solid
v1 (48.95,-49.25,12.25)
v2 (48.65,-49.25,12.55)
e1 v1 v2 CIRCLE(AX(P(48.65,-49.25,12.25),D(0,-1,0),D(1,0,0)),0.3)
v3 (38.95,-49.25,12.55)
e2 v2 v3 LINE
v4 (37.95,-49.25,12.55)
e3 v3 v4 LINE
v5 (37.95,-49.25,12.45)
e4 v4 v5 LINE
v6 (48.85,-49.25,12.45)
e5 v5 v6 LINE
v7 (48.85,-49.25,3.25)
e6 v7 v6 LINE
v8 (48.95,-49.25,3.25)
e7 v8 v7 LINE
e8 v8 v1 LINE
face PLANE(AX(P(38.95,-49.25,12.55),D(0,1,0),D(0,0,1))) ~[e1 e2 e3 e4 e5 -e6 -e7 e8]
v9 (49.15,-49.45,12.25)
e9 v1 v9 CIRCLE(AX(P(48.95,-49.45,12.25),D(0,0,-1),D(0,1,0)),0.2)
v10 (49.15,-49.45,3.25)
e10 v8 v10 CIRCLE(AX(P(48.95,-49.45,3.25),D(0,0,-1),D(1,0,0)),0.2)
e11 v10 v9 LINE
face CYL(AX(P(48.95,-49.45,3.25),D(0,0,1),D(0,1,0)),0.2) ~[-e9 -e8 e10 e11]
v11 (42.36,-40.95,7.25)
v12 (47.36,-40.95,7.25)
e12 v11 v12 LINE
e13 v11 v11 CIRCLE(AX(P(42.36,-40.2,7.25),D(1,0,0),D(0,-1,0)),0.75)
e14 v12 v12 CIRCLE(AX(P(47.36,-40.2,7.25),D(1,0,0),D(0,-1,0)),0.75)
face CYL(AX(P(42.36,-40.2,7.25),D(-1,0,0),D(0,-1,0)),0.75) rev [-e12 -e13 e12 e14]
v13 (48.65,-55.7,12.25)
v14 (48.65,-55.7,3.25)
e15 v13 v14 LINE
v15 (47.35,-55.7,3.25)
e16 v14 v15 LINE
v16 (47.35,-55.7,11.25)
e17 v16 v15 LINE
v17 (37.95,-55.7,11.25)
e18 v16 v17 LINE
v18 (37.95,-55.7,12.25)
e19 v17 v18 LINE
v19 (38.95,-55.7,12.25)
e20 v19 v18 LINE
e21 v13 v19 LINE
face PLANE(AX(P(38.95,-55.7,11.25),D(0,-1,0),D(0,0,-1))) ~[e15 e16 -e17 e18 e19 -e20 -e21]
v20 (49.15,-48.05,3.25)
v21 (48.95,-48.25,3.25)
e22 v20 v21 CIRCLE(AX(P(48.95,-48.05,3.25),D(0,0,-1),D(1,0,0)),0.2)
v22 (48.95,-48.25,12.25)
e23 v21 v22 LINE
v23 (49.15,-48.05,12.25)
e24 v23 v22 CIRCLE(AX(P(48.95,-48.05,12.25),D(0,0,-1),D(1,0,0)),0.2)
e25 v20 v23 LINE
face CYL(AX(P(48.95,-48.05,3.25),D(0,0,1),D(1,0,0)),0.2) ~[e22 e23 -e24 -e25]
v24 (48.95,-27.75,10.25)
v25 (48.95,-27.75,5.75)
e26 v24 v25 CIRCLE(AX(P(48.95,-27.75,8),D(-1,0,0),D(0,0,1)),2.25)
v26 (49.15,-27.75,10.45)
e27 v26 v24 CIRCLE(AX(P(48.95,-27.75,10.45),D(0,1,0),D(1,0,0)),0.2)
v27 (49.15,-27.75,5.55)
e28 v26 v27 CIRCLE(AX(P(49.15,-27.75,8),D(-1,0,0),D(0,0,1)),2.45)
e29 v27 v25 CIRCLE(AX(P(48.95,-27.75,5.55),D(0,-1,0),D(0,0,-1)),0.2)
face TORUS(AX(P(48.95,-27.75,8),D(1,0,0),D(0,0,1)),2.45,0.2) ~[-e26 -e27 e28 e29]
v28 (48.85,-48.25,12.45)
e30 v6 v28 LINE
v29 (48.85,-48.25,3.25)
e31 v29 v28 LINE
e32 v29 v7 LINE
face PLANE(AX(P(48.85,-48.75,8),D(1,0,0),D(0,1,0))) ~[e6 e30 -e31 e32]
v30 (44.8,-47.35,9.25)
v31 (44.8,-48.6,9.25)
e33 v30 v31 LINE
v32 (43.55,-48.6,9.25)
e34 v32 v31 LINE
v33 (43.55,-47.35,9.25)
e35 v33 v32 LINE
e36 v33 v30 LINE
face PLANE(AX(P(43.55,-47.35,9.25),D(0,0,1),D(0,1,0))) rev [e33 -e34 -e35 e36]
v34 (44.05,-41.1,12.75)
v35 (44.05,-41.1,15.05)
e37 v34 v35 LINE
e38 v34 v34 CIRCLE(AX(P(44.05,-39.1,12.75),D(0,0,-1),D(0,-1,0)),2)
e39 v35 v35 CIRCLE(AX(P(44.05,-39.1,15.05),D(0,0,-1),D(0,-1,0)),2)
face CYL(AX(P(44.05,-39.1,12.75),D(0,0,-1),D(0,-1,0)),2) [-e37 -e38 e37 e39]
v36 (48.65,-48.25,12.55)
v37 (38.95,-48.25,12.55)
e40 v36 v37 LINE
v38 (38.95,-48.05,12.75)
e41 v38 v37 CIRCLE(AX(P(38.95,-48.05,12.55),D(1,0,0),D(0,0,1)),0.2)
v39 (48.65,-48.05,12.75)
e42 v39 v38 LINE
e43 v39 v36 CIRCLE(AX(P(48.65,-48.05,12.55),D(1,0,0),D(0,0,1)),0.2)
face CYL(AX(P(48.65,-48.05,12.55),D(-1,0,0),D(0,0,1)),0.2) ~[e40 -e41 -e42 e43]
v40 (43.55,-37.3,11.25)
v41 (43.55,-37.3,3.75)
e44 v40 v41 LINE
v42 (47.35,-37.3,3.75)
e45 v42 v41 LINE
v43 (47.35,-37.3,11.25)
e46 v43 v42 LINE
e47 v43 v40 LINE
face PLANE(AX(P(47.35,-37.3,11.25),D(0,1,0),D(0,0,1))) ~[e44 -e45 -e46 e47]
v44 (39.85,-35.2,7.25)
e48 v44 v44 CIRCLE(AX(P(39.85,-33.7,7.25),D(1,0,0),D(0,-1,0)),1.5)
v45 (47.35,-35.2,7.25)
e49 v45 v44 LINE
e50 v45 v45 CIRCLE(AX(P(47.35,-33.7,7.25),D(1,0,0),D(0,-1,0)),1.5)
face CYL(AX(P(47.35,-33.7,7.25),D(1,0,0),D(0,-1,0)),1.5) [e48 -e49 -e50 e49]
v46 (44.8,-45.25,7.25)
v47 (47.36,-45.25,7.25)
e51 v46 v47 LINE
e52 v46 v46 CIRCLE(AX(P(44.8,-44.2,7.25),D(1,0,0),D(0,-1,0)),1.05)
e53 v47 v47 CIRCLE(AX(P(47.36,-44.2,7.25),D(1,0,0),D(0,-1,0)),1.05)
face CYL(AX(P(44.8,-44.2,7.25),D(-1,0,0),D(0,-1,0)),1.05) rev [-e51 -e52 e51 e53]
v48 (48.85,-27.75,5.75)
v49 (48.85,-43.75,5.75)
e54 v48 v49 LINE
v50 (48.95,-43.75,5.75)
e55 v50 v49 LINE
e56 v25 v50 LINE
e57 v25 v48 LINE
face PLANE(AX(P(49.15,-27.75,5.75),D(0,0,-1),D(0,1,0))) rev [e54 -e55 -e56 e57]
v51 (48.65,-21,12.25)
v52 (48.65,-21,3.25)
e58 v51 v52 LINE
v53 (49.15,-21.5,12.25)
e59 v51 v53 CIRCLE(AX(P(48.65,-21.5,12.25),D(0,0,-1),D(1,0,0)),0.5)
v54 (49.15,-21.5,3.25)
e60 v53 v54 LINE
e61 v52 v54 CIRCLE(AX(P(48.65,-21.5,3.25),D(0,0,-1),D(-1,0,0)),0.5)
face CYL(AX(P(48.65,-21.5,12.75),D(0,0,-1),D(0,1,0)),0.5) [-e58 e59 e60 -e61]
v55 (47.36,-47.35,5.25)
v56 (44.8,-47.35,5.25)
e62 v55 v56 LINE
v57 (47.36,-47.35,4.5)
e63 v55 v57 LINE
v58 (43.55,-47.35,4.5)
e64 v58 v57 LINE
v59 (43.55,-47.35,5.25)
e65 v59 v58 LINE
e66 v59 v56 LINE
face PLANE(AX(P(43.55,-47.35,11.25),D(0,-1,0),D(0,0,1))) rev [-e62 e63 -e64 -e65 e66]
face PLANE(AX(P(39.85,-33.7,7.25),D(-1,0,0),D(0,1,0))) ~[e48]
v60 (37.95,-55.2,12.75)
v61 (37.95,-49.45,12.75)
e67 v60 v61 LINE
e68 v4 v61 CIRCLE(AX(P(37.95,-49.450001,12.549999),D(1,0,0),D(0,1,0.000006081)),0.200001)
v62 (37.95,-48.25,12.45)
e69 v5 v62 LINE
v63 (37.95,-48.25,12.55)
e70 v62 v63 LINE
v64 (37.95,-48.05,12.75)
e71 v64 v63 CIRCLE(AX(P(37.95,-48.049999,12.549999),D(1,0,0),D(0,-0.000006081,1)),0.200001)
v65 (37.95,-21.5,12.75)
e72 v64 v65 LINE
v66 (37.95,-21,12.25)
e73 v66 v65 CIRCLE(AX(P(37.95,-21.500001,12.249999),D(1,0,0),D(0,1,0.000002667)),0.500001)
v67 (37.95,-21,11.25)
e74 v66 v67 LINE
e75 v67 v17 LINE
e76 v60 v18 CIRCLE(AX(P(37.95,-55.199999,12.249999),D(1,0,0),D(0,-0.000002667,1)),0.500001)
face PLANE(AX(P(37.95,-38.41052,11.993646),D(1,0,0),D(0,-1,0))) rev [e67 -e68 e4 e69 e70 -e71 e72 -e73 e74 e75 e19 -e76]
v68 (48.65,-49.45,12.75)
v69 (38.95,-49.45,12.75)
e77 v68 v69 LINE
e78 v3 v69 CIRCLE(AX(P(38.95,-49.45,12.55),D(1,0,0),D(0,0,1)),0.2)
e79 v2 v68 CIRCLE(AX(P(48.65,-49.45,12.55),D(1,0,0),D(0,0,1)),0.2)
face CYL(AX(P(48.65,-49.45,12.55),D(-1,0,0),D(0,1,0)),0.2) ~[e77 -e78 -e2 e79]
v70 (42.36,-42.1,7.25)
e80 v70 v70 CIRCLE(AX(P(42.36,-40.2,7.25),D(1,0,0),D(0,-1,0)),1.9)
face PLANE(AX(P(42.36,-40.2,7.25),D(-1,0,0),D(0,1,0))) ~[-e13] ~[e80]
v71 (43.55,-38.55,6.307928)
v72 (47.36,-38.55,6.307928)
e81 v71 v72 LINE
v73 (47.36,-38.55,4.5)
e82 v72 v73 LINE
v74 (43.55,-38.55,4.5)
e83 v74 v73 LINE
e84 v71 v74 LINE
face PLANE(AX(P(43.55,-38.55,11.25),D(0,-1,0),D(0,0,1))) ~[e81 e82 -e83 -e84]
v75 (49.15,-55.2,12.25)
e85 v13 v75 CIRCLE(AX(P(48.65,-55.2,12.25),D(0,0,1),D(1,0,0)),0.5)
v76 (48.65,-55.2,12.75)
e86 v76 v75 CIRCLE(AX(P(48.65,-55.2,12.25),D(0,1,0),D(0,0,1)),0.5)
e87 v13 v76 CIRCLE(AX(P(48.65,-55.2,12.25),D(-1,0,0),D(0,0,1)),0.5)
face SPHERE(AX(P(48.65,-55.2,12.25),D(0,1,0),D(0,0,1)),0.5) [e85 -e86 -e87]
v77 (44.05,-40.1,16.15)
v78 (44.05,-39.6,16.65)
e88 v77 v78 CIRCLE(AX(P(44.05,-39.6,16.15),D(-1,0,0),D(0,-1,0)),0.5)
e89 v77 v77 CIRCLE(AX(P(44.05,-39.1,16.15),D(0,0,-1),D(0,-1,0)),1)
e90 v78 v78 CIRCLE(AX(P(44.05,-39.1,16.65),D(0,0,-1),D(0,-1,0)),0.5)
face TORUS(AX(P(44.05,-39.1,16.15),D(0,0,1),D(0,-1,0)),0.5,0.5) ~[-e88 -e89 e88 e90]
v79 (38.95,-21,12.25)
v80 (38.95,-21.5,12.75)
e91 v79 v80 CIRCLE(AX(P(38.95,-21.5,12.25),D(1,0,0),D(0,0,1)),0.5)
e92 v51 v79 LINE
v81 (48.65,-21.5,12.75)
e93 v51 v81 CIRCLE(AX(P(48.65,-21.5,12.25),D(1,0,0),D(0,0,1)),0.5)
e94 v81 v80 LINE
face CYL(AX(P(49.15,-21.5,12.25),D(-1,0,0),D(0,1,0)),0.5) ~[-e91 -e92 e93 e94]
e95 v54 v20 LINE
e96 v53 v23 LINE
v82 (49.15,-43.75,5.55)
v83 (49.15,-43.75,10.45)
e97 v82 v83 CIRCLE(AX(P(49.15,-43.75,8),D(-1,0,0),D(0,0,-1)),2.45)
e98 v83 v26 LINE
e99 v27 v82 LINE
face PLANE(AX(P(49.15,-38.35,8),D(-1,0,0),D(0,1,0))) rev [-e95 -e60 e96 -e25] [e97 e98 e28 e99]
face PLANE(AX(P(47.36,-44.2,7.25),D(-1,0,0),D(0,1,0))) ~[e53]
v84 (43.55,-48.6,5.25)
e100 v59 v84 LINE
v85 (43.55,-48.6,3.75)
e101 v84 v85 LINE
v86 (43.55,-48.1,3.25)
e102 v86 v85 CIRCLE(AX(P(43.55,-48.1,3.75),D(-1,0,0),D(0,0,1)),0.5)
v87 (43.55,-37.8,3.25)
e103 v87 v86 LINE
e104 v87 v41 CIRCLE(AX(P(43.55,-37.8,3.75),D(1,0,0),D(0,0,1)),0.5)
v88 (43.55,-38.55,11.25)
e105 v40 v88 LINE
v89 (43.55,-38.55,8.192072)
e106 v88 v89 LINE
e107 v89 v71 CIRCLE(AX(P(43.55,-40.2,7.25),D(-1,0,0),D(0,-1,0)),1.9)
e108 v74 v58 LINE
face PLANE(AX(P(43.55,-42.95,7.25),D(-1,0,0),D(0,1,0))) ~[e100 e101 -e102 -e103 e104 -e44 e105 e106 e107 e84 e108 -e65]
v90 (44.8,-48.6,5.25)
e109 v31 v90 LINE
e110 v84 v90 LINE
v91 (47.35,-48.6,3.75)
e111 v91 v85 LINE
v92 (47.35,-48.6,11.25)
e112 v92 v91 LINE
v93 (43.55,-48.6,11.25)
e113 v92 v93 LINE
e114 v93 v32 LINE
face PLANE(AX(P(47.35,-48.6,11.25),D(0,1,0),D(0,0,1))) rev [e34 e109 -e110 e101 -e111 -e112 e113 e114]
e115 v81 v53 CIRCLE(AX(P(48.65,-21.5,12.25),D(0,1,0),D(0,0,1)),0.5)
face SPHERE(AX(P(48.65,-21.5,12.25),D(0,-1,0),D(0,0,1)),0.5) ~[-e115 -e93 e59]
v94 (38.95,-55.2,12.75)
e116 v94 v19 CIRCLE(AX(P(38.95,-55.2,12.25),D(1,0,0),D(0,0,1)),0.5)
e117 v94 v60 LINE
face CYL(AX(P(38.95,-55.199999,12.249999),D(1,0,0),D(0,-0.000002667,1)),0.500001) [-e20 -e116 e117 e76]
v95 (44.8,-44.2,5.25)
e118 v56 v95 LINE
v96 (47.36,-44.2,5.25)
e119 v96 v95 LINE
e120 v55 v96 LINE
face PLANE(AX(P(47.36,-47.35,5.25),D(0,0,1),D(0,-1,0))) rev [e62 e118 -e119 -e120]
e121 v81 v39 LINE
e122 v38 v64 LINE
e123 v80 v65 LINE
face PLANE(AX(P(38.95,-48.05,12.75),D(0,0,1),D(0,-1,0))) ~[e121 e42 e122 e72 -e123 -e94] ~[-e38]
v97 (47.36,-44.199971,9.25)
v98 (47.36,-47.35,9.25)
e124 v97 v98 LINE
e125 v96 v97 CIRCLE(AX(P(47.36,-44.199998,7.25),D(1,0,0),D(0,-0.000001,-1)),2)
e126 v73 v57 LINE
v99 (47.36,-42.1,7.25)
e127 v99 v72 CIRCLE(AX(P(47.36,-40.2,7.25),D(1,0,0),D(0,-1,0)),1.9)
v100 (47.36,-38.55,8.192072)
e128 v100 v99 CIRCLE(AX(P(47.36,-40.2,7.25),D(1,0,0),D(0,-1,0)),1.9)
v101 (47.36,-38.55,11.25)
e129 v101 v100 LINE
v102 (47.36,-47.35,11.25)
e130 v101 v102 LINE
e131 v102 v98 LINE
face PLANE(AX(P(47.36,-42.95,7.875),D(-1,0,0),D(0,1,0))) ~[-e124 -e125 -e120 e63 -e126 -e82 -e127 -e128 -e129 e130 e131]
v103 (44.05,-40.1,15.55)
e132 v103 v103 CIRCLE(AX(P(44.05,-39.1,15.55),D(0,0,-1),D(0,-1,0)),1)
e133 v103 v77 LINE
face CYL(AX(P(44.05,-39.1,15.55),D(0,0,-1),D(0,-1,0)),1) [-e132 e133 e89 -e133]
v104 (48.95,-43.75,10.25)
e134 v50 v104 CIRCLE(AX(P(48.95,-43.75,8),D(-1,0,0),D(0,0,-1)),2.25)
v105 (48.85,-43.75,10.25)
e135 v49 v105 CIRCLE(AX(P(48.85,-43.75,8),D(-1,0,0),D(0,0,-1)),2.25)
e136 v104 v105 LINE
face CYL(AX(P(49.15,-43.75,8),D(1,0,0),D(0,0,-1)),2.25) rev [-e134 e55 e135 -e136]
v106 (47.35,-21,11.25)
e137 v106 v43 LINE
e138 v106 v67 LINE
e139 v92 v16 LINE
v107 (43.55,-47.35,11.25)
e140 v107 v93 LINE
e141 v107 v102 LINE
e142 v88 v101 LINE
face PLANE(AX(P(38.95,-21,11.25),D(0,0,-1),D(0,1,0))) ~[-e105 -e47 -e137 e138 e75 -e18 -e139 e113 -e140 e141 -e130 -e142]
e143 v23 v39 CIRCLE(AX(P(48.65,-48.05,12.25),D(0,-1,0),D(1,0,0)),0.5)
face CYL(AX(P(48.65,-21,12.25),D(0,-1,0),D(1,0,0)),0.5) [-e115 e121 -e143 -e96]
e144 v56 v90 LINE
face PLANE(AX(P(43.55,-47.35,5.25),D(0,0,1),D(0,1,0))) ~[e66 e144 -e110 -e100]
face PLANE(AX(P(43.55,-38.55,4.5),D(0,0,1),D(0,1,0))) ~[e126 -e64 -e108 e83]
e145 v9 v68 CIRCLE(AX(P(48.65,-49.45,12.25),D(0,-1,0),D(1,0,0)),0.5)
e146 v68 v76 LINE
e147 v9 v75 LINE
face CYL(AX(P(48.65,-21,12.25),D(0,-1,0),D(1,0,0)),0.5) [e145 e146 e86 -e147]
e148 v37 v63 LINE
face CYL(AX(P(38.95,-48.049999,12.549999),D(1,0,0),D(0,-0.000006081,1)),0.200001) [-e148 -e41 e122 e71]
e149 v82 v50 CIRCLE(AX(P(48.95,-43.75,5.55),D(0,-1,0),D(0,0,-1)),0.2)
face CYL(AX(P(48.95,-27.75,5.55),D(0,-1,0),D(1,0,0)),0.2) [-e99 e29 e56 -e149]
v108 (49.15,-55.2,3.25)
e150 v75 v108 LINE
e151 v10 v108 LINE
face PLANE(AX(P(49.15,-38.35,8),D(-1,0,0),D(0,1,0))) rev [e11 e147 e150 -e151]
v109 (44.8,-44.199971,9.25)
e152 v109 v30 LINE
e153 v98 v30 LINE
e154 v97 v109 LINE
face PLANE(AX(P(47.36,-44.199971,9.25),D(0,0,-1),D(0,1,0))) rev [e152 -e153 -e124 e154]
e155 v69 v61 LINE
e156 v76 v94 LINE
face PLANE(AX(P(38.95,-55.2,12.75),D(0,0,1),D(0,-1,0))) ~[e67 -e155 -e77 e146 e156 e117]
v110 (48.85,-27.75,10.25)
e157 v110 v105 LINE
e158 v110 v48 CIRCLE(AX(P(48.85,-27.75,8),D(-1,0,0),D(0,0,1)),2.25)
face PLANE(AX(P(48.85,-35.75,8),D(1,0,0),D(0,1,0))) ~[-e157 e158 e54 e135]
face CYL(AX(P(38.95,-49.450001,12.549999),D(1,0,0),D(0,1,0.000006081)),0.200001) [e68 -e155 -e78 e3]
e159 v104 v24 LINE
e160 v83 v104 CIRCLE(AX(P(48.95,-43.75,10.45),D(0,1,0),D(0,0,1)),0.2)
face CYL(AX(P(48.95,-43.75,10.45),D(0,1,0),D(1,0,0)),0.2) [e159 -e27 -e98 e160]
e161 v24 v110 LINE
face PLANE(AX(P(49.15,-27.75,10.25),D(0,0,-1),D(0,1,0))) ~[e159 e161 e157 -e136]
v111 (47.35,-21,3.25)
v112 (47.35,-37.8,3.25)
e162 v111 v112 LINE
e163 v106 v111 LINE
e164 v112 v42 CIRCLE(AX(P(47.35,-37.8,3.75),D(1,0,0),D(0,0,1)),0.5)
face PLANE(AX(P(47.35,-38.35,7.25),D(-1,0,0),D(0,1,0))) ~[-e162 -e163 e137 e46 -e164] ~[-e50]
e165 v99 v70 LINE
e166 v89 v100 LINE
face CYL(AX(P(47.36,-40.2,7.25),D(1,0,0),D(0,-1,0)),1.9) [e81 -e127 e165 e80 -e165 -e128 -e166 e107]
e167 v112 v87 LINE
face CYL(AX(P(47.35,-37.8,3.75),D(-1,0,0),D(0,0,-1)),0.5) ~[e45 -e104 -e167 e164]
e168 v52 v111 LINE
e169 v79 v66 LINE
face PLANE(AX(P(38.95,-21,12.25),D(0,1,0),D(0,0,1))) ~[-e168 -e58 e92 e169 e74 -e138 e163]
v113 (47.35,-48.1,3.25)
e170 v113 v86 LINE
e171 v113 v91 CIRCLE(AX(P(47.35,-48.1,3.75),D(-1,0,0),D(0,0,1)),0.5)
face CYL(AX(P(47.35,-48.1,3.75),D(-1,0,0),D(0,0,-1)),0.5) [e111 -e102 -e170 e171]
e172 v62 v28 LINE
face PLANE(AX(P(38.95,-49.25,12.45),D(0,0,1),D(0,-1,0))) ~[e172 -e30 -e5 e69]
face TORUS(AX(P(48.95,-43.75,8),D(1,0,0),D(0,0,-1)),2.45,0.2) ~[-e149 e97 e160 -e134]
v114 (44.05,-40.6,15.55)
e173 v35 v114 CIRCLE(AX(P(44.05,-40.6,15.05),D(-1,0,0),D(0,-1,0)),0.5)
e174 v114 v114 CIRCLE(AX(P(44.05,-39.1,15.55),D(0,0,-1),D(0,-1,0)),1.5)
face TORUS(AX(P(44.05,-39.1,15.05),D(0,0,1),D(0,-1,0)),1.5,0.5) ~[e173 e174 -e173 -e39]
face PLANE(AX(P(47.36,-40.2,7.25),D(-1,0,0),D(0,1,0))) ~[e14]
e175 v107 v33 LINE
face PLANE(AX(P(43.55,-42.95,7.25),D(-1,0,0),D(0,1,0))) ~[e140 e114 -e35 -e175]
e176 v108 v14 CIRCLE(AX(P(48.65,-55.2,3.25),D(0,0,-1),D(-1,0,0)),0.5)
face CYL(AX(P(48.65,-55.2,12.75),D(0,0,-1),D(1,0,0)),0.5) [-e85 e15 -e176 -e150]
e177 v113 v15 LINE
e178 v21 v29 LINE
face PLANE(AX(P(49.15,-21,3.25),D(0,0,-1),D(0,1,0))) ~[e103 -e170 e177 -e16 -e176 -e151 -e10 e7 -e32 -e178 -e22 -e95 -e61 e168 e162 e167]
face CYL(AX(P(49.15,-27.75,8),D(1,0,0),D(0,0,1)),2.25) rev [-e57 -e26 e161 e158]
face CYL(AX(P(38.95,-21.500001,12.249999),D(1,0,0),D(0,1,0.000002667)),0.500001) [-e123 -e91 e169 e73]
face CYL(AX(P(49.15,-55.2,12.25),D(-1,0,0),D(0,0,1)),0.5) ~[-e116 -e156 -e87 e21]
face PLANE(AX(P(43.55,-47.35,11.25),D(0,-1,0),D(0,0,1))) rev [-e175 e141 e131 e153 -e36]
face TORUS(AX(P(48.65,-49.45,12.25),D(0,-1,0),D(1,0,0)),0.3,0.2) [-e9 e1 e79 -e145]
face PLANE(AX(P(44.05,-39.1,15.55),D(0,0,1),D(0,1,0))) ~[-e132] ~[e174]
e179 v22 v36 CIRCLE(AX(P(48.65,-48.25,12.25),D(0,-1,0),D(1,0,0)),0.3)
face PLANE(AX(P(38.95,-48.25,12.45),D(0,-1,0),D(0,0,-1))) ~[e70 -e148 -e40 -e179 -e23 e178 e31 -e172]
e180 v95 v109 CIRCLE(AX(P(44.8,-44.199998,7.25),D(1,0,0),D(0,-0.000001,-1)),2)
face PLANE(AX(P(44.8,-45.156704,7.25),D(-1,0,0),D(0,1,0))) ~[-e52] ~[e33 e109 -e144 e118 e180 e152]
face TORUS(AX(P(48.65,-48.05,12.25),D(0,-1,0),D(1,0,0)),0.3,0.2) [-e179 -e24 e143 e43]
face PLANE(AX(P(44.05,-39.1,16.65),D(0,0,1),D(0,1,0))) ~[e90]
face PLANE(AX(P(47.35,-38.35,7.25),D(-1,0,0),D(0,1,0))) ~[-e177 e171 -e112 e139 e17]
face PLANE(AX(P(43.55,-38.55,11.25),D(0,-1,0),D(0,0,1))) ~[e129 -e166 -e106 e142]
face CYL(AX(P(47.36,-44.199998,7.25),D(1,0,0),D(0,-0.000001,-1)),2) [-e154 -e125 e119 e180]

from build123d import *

# Parameters (mm, degrees)
SKETCH164_W                    = 34.7
SKETCH164_H                    = 9.5
PAD087_DEPTH                   = 10.2
SKETCH165_W                    = 34.7
SKETCH165_H                    = 8
POCKET082_DEPTH                = 8.4
SKETCH166_W                    = 11.3
SKETCH166_H                    = 8
PAD088_DEPTH                   = 3.8
SKETCH167_R                    = 1.5
PAD089_DEPTH                   = 7.5
FILLET035_R                    = 0.5
SKETCH168_W                    = 8.8
SKETCH168_H                    = 6.75
POCKET083_DEPTH                = 3.81
SKETCH170_W                    = 1.25
SKETCH170_H                    = 4
POCKET084_DEPTH                = 1.25
PAD090_DEPTH                   = 2.56
SKETCH171_R                    = 1.9
PAD091_DEPTH                   = 5
SKETCH172_R                    = 1.05
POCKET085_DEPTH                = 2.56
SKETCH173_R                    = 0.75
POCKET086_DEPTH                = 5
SKETCH174_W                    = 1
SKETCH174_H                    = 9.5
POCKET087_DEPTH                = 0.3
SKETCH175_W                    = 1
SKETCH175_H                    = 10.2
POCKET088_DEPTH                = 0.3
FILLET036_R                    = 0.2
FILLET037_R                    = 0.2
SKETCH176_R                    = 2
PAD092_DEPTH                   = 2.8
FILLET038_R                    = 0.5
FILLET039_R                    = 0.5
SKETCH178_R                    = 1
PAD093_DEPTH                   = 1.1
FILLET040_R                    = 0.5
PAD162_DEPTH                   = 1
PART_MIRRORING_ROLL_ANGLE      = -90
PART_MIRRORING_PLACEMENT_ANGLE = -90


with BuildPart() as l_arm_shield:
    # Sketch164 → Pad087 (new body)
    with BuildSketch(Plane.XY):
        with Locations((-17.35, 0)):
            Rectangle(SKETCH164_W, SKETCH164_H)
    extrude(amount=PAD087_DEPTH)

    # Sketch165 (on Face6 of Pad087) → Pocket082 (cut)
    with BuildSketch(Plane.XY.offset(10.2)):
        with Locations((-17.35, 0.75)):
            Rectangle(SKETCH165_W, SKETCH165_H)
    extrude(amount=-POCKET082_DEPTH, mode=Mode.SUBTRACT)

    # Sketch166 (on Face6 of Pocket082) → Pad088 (join)
    with BuildSketch(Plane.XY.offset(1.8)):
        with Locations((-12.75, 0.75)):
            Rectangle(SKETCH166_W, SKETCH166_H)
    extrude(amount=PAD088_DEPTH)

    # Sketch167 (on Face6 of Pad088) → Pad089 (join)
    with BuildSketch(Plane.XY.offset(1.8)):
        with Locations((-22, 0.75)):
            Circle(SKETCH167_R)
    extrude(amount=PAD089_DEPTH)

    # Fillet035
    fillet035_edges = [l_arm_shield.edges().sort_by_distance(p)[0] for p in [
        (-17.35, -4.75, 0),
        (-34.7, -4.75, 5.1),
        (-34.7, 0, 0),
        (0, -4.75, 5.1),
        (0, 0, 0),
    ]]
    fillet(fillet035_edges, radius=FILLET035_R)

    # Sketch168 (on Face14 of Fillet035) → Pocket083 (cut)
    with BuildSketch(Plane.XY.offset(5.6)):
        with Locations((-12.75, 0.125)):
            Rectangle(SKETCH168_W, SKETCH168_H)
    extrude(amount=-POCKET083_DEPTH, mode=Mode.SUBTRACT)

    # Sketch170 (on Face13 of Pocket083) → Pocket084 (cut)
    with BuildSketch(Plane.XY.offset(5.6)):
        with Locations((-7.725, 0.75)):
            Rectangle(SKETCH170_W, SKETCH170_H)
    extrude(amount=-POCKET084_DEPTH, mode=Mode.SUBTRACT)

    # Sketch169 (on Face23 of Pocket083) → Pad090 (join)
    with BuildSketch(Plane.XY.offset(1.79)):
        with BuildLine():
            Line((-8.35, 2.75), (-11.5, 2.75))
            ThreePointArc((-11.5, 2.75), (-13.500002, 0.750015), (-11.500029, -1.25))
            Line((-11.500029, -1.25), (-8.35, -1.25))
            Line((-8.35, -1.25), (-8.35, 2.75))
        make_face()
    extrude(amount=PAD090_DEPTH)

    # Sketch171 (on Face16 of Pad090) → Pad091 (join)
    with BuildSketch(Plane.XY.offset(1.79)):
        with Locations((-15.5, 0.75)):
            Circle(SKETCH171_R)
    extrude(amount=PAD091_DEPTH)

    # Sketch172 (on Face26 of Pad091) → Pocket085 (cut)
    with BuildSketch(Plane.XY.offset(4.35)):
        with Locations((-11.5, 0.75)):
            Circle(SKETCH172_R)
    extrude(amount=-POCKET085_DEPTH, mode=Mode.SUBTRACT)

    # Sketch173 (on Face37 of Pocket085) → Pocket086 (cut)
    with BuildSketch(Plane.XY.offset(6.79)):
        with Locations((-15.5, 0.75)):
            Circle(SKETCH173_R)
    extrude(amount=-POCKET086_DEPTH, mode=Mode.SUBTRACT)

    # Sketch174 (on Face20 of Pocket086) → Pocket087 (cut)
    with BuildSketch(Plane(origin=(0, 0, 0), x_dir=(1, 0, 0), z_dir=(0, 0, -1))):
        with BuildLine():
            ThreePointArc((-27.95, 2.25), (-30.2, 0), (-27.95, -2.25))
            Line((-27.95, -2.25), (-11.95, -2.25))
            ThreePointArc((-11.95, -2.25), (-9.7, 0), (-11.95, 2.25))
            Line((-27.95, 2.25), (-11.95, 2.25))
        make_face()
        with Locations((-6.95, 0)):
            Rectangle(SKETCH174_W, SKETCH174_H)
    extrude(amount=-POCKET087_DEPTH, mode=Mode.SUBTRACT)

    # Sketch175 (on Face10 of Pocket087) → Pocket088 (cut)
    with BuildSketch(Plane.XZ.offset(4.75)):
        with Locations((-6.95, 5.1)):
            Rectangle(SKETCH175_W, SKETCH175_H)
    extrude(amount=-POCKET088_DEPTH, mode=Mode.SUBTRACT)

    # Fillet036
    fillet036_edges = [l_arm_shield.edges().sort_by_distance(p)[0] for p in [
        (-9.7, 0, 0),
        (-19.95, 2.25, 0),
        (-19.95, -2.25, 0),
        (-30.2, 0, 0),
    ]]
    fillet(fillet036_edges, radius=FILLET036_R)

    # Fillet037
    fillet037_edges = [l_arm_shield.edges().sort_by_distance(p)[0] for p in [
        (-7.45, 0.25, 0),
        (-6.45, 0.25, 0),
        (-7.45, -4.352155, 0.010547),
        (-7.45, -4.603553, 0.146447),
        (-7.45, -4.739453, 0.397845),
        (-7.45, -4.75, 5.35),
        (-6.45, -4.75, 5.35),
        (-6.45, -4.739453, 0.397845),
        (-6.45, -4.603553, 0.146447),
        (-6.45, -4.352155, 0.010547),
    ]]
    fillet(fillet037_edges, radius=FILLET037_R)

    # Sketch176 (on Face13 of Fillet037) → Pad092 (join)
    with BuildSketch(Plane.XZ.offset(4.75)):
        with Locations((-16.6, 5.1)):
            Circle(SKETCH176_R)
    extrude(amount=PAD092_DEPTH)

    # Fillet038
    fillet038_edges = [l_arm_shield.edges().sort_by_distance(p)[0] for p in [
        (-18.6, -7.55, 5.1),
    ]]
    fillet(fillet038_edges, radius=FILLET038_R)

    # Fillet039
    fillet039_edges = [l_arm_shield.edges().sort_by_distance(p)[0] for p in [
        (-7.1, 4.75, 3.7),
        (-18.4, 4.75, 3.7),
    ]]
    fillet(fillet039_edges, radius=FILLET039_R)

    # Sketch178 (on Face71 of Fillet039) → Pad093 (join)
    with BuildSketch(Plane.XZ.offset(7.55)):
        with Locations((-16.6, 5.1)):
            Circle(SKETCH178_R)
    extrude(amount=PAD093_DEPTH)

    # Fillet040
    fillet040_edges = [l_arm_shield.edges().sort_by_distance(p)[0] for p in [
        (-17.6, -8.65, 5.1),
    ]]
    fillet(fillet040_edges, radius=FILLET040_R)

    # Sketch283 (on Face11 of Fillet040) → Pad162 (join)
    with BuildSketch(Plane.XY.offset(10.2)):
        with BuildLine():
            Line((0, -3.25), (0, -4.25))
            ThreePointArc((-0.5, -4.75), (-0.146447, -4.603553), (0, -4.25))
            Line((-0.5, -4.75), (-6.25, -4.75))
            ThreePointArc((-6.45, -4.55), (-6.391421, -4.691421), (-6.25, -4.75))
            Line((-6.45, -4.55), (-6.45, -4.45))
            Line((-6.45, -4.45), (-7.45, -4.45))
            Line((-7.45, -4.45), (-7.45, -4.55))
            ThreePointArc((-7.65, -4.75), (-7.508579, -4.691421), (-7.45, -4.55))
            Line((-7.65, -4.75), (-34.2, -4.75))
            ThreePointArc((-34.7, -4.25), (-34.553553, -4.603553), (-34.2, -4.75))
            Line((-34.7, -4.25), (-34.7, -3.25))
            Line((-34.7, -3.25), (0, -3.25))
        make_face()
    extrude(amount=PAD162_DEPTH)


with BuildPart() as left_arm_shileld:
    # Part__Mirroring: instance of L_Arm_Shield
    add(l_arm_shield.part.mirror(Plane(origin=(0, 0, 0), x_dir=(0, 1, 0), z_dir=(0, 0, 1))))


with BuildPart() as left_arm_shileld_1:
    # Part__Mirroring roll: moved
    add(left_arm_shileld.part.rotate(Axis((0, 0, 0), (1, 0, 0)), PART_MIRRORING_ROLL_ANGLE))


with BuildPart() as left_arm_shileld_2:
    # Part__Mirroring placement: moved
    add(left_arm_shileld_1.part.moved(Location((49.15, -55.7, 8))).rotate(Axis((49.15, -55.7, 8), (0, 0, 1)), PART_MIRRORING_PLACEMENT_ANGLE))


solid = left_arm_shileld_2.part
